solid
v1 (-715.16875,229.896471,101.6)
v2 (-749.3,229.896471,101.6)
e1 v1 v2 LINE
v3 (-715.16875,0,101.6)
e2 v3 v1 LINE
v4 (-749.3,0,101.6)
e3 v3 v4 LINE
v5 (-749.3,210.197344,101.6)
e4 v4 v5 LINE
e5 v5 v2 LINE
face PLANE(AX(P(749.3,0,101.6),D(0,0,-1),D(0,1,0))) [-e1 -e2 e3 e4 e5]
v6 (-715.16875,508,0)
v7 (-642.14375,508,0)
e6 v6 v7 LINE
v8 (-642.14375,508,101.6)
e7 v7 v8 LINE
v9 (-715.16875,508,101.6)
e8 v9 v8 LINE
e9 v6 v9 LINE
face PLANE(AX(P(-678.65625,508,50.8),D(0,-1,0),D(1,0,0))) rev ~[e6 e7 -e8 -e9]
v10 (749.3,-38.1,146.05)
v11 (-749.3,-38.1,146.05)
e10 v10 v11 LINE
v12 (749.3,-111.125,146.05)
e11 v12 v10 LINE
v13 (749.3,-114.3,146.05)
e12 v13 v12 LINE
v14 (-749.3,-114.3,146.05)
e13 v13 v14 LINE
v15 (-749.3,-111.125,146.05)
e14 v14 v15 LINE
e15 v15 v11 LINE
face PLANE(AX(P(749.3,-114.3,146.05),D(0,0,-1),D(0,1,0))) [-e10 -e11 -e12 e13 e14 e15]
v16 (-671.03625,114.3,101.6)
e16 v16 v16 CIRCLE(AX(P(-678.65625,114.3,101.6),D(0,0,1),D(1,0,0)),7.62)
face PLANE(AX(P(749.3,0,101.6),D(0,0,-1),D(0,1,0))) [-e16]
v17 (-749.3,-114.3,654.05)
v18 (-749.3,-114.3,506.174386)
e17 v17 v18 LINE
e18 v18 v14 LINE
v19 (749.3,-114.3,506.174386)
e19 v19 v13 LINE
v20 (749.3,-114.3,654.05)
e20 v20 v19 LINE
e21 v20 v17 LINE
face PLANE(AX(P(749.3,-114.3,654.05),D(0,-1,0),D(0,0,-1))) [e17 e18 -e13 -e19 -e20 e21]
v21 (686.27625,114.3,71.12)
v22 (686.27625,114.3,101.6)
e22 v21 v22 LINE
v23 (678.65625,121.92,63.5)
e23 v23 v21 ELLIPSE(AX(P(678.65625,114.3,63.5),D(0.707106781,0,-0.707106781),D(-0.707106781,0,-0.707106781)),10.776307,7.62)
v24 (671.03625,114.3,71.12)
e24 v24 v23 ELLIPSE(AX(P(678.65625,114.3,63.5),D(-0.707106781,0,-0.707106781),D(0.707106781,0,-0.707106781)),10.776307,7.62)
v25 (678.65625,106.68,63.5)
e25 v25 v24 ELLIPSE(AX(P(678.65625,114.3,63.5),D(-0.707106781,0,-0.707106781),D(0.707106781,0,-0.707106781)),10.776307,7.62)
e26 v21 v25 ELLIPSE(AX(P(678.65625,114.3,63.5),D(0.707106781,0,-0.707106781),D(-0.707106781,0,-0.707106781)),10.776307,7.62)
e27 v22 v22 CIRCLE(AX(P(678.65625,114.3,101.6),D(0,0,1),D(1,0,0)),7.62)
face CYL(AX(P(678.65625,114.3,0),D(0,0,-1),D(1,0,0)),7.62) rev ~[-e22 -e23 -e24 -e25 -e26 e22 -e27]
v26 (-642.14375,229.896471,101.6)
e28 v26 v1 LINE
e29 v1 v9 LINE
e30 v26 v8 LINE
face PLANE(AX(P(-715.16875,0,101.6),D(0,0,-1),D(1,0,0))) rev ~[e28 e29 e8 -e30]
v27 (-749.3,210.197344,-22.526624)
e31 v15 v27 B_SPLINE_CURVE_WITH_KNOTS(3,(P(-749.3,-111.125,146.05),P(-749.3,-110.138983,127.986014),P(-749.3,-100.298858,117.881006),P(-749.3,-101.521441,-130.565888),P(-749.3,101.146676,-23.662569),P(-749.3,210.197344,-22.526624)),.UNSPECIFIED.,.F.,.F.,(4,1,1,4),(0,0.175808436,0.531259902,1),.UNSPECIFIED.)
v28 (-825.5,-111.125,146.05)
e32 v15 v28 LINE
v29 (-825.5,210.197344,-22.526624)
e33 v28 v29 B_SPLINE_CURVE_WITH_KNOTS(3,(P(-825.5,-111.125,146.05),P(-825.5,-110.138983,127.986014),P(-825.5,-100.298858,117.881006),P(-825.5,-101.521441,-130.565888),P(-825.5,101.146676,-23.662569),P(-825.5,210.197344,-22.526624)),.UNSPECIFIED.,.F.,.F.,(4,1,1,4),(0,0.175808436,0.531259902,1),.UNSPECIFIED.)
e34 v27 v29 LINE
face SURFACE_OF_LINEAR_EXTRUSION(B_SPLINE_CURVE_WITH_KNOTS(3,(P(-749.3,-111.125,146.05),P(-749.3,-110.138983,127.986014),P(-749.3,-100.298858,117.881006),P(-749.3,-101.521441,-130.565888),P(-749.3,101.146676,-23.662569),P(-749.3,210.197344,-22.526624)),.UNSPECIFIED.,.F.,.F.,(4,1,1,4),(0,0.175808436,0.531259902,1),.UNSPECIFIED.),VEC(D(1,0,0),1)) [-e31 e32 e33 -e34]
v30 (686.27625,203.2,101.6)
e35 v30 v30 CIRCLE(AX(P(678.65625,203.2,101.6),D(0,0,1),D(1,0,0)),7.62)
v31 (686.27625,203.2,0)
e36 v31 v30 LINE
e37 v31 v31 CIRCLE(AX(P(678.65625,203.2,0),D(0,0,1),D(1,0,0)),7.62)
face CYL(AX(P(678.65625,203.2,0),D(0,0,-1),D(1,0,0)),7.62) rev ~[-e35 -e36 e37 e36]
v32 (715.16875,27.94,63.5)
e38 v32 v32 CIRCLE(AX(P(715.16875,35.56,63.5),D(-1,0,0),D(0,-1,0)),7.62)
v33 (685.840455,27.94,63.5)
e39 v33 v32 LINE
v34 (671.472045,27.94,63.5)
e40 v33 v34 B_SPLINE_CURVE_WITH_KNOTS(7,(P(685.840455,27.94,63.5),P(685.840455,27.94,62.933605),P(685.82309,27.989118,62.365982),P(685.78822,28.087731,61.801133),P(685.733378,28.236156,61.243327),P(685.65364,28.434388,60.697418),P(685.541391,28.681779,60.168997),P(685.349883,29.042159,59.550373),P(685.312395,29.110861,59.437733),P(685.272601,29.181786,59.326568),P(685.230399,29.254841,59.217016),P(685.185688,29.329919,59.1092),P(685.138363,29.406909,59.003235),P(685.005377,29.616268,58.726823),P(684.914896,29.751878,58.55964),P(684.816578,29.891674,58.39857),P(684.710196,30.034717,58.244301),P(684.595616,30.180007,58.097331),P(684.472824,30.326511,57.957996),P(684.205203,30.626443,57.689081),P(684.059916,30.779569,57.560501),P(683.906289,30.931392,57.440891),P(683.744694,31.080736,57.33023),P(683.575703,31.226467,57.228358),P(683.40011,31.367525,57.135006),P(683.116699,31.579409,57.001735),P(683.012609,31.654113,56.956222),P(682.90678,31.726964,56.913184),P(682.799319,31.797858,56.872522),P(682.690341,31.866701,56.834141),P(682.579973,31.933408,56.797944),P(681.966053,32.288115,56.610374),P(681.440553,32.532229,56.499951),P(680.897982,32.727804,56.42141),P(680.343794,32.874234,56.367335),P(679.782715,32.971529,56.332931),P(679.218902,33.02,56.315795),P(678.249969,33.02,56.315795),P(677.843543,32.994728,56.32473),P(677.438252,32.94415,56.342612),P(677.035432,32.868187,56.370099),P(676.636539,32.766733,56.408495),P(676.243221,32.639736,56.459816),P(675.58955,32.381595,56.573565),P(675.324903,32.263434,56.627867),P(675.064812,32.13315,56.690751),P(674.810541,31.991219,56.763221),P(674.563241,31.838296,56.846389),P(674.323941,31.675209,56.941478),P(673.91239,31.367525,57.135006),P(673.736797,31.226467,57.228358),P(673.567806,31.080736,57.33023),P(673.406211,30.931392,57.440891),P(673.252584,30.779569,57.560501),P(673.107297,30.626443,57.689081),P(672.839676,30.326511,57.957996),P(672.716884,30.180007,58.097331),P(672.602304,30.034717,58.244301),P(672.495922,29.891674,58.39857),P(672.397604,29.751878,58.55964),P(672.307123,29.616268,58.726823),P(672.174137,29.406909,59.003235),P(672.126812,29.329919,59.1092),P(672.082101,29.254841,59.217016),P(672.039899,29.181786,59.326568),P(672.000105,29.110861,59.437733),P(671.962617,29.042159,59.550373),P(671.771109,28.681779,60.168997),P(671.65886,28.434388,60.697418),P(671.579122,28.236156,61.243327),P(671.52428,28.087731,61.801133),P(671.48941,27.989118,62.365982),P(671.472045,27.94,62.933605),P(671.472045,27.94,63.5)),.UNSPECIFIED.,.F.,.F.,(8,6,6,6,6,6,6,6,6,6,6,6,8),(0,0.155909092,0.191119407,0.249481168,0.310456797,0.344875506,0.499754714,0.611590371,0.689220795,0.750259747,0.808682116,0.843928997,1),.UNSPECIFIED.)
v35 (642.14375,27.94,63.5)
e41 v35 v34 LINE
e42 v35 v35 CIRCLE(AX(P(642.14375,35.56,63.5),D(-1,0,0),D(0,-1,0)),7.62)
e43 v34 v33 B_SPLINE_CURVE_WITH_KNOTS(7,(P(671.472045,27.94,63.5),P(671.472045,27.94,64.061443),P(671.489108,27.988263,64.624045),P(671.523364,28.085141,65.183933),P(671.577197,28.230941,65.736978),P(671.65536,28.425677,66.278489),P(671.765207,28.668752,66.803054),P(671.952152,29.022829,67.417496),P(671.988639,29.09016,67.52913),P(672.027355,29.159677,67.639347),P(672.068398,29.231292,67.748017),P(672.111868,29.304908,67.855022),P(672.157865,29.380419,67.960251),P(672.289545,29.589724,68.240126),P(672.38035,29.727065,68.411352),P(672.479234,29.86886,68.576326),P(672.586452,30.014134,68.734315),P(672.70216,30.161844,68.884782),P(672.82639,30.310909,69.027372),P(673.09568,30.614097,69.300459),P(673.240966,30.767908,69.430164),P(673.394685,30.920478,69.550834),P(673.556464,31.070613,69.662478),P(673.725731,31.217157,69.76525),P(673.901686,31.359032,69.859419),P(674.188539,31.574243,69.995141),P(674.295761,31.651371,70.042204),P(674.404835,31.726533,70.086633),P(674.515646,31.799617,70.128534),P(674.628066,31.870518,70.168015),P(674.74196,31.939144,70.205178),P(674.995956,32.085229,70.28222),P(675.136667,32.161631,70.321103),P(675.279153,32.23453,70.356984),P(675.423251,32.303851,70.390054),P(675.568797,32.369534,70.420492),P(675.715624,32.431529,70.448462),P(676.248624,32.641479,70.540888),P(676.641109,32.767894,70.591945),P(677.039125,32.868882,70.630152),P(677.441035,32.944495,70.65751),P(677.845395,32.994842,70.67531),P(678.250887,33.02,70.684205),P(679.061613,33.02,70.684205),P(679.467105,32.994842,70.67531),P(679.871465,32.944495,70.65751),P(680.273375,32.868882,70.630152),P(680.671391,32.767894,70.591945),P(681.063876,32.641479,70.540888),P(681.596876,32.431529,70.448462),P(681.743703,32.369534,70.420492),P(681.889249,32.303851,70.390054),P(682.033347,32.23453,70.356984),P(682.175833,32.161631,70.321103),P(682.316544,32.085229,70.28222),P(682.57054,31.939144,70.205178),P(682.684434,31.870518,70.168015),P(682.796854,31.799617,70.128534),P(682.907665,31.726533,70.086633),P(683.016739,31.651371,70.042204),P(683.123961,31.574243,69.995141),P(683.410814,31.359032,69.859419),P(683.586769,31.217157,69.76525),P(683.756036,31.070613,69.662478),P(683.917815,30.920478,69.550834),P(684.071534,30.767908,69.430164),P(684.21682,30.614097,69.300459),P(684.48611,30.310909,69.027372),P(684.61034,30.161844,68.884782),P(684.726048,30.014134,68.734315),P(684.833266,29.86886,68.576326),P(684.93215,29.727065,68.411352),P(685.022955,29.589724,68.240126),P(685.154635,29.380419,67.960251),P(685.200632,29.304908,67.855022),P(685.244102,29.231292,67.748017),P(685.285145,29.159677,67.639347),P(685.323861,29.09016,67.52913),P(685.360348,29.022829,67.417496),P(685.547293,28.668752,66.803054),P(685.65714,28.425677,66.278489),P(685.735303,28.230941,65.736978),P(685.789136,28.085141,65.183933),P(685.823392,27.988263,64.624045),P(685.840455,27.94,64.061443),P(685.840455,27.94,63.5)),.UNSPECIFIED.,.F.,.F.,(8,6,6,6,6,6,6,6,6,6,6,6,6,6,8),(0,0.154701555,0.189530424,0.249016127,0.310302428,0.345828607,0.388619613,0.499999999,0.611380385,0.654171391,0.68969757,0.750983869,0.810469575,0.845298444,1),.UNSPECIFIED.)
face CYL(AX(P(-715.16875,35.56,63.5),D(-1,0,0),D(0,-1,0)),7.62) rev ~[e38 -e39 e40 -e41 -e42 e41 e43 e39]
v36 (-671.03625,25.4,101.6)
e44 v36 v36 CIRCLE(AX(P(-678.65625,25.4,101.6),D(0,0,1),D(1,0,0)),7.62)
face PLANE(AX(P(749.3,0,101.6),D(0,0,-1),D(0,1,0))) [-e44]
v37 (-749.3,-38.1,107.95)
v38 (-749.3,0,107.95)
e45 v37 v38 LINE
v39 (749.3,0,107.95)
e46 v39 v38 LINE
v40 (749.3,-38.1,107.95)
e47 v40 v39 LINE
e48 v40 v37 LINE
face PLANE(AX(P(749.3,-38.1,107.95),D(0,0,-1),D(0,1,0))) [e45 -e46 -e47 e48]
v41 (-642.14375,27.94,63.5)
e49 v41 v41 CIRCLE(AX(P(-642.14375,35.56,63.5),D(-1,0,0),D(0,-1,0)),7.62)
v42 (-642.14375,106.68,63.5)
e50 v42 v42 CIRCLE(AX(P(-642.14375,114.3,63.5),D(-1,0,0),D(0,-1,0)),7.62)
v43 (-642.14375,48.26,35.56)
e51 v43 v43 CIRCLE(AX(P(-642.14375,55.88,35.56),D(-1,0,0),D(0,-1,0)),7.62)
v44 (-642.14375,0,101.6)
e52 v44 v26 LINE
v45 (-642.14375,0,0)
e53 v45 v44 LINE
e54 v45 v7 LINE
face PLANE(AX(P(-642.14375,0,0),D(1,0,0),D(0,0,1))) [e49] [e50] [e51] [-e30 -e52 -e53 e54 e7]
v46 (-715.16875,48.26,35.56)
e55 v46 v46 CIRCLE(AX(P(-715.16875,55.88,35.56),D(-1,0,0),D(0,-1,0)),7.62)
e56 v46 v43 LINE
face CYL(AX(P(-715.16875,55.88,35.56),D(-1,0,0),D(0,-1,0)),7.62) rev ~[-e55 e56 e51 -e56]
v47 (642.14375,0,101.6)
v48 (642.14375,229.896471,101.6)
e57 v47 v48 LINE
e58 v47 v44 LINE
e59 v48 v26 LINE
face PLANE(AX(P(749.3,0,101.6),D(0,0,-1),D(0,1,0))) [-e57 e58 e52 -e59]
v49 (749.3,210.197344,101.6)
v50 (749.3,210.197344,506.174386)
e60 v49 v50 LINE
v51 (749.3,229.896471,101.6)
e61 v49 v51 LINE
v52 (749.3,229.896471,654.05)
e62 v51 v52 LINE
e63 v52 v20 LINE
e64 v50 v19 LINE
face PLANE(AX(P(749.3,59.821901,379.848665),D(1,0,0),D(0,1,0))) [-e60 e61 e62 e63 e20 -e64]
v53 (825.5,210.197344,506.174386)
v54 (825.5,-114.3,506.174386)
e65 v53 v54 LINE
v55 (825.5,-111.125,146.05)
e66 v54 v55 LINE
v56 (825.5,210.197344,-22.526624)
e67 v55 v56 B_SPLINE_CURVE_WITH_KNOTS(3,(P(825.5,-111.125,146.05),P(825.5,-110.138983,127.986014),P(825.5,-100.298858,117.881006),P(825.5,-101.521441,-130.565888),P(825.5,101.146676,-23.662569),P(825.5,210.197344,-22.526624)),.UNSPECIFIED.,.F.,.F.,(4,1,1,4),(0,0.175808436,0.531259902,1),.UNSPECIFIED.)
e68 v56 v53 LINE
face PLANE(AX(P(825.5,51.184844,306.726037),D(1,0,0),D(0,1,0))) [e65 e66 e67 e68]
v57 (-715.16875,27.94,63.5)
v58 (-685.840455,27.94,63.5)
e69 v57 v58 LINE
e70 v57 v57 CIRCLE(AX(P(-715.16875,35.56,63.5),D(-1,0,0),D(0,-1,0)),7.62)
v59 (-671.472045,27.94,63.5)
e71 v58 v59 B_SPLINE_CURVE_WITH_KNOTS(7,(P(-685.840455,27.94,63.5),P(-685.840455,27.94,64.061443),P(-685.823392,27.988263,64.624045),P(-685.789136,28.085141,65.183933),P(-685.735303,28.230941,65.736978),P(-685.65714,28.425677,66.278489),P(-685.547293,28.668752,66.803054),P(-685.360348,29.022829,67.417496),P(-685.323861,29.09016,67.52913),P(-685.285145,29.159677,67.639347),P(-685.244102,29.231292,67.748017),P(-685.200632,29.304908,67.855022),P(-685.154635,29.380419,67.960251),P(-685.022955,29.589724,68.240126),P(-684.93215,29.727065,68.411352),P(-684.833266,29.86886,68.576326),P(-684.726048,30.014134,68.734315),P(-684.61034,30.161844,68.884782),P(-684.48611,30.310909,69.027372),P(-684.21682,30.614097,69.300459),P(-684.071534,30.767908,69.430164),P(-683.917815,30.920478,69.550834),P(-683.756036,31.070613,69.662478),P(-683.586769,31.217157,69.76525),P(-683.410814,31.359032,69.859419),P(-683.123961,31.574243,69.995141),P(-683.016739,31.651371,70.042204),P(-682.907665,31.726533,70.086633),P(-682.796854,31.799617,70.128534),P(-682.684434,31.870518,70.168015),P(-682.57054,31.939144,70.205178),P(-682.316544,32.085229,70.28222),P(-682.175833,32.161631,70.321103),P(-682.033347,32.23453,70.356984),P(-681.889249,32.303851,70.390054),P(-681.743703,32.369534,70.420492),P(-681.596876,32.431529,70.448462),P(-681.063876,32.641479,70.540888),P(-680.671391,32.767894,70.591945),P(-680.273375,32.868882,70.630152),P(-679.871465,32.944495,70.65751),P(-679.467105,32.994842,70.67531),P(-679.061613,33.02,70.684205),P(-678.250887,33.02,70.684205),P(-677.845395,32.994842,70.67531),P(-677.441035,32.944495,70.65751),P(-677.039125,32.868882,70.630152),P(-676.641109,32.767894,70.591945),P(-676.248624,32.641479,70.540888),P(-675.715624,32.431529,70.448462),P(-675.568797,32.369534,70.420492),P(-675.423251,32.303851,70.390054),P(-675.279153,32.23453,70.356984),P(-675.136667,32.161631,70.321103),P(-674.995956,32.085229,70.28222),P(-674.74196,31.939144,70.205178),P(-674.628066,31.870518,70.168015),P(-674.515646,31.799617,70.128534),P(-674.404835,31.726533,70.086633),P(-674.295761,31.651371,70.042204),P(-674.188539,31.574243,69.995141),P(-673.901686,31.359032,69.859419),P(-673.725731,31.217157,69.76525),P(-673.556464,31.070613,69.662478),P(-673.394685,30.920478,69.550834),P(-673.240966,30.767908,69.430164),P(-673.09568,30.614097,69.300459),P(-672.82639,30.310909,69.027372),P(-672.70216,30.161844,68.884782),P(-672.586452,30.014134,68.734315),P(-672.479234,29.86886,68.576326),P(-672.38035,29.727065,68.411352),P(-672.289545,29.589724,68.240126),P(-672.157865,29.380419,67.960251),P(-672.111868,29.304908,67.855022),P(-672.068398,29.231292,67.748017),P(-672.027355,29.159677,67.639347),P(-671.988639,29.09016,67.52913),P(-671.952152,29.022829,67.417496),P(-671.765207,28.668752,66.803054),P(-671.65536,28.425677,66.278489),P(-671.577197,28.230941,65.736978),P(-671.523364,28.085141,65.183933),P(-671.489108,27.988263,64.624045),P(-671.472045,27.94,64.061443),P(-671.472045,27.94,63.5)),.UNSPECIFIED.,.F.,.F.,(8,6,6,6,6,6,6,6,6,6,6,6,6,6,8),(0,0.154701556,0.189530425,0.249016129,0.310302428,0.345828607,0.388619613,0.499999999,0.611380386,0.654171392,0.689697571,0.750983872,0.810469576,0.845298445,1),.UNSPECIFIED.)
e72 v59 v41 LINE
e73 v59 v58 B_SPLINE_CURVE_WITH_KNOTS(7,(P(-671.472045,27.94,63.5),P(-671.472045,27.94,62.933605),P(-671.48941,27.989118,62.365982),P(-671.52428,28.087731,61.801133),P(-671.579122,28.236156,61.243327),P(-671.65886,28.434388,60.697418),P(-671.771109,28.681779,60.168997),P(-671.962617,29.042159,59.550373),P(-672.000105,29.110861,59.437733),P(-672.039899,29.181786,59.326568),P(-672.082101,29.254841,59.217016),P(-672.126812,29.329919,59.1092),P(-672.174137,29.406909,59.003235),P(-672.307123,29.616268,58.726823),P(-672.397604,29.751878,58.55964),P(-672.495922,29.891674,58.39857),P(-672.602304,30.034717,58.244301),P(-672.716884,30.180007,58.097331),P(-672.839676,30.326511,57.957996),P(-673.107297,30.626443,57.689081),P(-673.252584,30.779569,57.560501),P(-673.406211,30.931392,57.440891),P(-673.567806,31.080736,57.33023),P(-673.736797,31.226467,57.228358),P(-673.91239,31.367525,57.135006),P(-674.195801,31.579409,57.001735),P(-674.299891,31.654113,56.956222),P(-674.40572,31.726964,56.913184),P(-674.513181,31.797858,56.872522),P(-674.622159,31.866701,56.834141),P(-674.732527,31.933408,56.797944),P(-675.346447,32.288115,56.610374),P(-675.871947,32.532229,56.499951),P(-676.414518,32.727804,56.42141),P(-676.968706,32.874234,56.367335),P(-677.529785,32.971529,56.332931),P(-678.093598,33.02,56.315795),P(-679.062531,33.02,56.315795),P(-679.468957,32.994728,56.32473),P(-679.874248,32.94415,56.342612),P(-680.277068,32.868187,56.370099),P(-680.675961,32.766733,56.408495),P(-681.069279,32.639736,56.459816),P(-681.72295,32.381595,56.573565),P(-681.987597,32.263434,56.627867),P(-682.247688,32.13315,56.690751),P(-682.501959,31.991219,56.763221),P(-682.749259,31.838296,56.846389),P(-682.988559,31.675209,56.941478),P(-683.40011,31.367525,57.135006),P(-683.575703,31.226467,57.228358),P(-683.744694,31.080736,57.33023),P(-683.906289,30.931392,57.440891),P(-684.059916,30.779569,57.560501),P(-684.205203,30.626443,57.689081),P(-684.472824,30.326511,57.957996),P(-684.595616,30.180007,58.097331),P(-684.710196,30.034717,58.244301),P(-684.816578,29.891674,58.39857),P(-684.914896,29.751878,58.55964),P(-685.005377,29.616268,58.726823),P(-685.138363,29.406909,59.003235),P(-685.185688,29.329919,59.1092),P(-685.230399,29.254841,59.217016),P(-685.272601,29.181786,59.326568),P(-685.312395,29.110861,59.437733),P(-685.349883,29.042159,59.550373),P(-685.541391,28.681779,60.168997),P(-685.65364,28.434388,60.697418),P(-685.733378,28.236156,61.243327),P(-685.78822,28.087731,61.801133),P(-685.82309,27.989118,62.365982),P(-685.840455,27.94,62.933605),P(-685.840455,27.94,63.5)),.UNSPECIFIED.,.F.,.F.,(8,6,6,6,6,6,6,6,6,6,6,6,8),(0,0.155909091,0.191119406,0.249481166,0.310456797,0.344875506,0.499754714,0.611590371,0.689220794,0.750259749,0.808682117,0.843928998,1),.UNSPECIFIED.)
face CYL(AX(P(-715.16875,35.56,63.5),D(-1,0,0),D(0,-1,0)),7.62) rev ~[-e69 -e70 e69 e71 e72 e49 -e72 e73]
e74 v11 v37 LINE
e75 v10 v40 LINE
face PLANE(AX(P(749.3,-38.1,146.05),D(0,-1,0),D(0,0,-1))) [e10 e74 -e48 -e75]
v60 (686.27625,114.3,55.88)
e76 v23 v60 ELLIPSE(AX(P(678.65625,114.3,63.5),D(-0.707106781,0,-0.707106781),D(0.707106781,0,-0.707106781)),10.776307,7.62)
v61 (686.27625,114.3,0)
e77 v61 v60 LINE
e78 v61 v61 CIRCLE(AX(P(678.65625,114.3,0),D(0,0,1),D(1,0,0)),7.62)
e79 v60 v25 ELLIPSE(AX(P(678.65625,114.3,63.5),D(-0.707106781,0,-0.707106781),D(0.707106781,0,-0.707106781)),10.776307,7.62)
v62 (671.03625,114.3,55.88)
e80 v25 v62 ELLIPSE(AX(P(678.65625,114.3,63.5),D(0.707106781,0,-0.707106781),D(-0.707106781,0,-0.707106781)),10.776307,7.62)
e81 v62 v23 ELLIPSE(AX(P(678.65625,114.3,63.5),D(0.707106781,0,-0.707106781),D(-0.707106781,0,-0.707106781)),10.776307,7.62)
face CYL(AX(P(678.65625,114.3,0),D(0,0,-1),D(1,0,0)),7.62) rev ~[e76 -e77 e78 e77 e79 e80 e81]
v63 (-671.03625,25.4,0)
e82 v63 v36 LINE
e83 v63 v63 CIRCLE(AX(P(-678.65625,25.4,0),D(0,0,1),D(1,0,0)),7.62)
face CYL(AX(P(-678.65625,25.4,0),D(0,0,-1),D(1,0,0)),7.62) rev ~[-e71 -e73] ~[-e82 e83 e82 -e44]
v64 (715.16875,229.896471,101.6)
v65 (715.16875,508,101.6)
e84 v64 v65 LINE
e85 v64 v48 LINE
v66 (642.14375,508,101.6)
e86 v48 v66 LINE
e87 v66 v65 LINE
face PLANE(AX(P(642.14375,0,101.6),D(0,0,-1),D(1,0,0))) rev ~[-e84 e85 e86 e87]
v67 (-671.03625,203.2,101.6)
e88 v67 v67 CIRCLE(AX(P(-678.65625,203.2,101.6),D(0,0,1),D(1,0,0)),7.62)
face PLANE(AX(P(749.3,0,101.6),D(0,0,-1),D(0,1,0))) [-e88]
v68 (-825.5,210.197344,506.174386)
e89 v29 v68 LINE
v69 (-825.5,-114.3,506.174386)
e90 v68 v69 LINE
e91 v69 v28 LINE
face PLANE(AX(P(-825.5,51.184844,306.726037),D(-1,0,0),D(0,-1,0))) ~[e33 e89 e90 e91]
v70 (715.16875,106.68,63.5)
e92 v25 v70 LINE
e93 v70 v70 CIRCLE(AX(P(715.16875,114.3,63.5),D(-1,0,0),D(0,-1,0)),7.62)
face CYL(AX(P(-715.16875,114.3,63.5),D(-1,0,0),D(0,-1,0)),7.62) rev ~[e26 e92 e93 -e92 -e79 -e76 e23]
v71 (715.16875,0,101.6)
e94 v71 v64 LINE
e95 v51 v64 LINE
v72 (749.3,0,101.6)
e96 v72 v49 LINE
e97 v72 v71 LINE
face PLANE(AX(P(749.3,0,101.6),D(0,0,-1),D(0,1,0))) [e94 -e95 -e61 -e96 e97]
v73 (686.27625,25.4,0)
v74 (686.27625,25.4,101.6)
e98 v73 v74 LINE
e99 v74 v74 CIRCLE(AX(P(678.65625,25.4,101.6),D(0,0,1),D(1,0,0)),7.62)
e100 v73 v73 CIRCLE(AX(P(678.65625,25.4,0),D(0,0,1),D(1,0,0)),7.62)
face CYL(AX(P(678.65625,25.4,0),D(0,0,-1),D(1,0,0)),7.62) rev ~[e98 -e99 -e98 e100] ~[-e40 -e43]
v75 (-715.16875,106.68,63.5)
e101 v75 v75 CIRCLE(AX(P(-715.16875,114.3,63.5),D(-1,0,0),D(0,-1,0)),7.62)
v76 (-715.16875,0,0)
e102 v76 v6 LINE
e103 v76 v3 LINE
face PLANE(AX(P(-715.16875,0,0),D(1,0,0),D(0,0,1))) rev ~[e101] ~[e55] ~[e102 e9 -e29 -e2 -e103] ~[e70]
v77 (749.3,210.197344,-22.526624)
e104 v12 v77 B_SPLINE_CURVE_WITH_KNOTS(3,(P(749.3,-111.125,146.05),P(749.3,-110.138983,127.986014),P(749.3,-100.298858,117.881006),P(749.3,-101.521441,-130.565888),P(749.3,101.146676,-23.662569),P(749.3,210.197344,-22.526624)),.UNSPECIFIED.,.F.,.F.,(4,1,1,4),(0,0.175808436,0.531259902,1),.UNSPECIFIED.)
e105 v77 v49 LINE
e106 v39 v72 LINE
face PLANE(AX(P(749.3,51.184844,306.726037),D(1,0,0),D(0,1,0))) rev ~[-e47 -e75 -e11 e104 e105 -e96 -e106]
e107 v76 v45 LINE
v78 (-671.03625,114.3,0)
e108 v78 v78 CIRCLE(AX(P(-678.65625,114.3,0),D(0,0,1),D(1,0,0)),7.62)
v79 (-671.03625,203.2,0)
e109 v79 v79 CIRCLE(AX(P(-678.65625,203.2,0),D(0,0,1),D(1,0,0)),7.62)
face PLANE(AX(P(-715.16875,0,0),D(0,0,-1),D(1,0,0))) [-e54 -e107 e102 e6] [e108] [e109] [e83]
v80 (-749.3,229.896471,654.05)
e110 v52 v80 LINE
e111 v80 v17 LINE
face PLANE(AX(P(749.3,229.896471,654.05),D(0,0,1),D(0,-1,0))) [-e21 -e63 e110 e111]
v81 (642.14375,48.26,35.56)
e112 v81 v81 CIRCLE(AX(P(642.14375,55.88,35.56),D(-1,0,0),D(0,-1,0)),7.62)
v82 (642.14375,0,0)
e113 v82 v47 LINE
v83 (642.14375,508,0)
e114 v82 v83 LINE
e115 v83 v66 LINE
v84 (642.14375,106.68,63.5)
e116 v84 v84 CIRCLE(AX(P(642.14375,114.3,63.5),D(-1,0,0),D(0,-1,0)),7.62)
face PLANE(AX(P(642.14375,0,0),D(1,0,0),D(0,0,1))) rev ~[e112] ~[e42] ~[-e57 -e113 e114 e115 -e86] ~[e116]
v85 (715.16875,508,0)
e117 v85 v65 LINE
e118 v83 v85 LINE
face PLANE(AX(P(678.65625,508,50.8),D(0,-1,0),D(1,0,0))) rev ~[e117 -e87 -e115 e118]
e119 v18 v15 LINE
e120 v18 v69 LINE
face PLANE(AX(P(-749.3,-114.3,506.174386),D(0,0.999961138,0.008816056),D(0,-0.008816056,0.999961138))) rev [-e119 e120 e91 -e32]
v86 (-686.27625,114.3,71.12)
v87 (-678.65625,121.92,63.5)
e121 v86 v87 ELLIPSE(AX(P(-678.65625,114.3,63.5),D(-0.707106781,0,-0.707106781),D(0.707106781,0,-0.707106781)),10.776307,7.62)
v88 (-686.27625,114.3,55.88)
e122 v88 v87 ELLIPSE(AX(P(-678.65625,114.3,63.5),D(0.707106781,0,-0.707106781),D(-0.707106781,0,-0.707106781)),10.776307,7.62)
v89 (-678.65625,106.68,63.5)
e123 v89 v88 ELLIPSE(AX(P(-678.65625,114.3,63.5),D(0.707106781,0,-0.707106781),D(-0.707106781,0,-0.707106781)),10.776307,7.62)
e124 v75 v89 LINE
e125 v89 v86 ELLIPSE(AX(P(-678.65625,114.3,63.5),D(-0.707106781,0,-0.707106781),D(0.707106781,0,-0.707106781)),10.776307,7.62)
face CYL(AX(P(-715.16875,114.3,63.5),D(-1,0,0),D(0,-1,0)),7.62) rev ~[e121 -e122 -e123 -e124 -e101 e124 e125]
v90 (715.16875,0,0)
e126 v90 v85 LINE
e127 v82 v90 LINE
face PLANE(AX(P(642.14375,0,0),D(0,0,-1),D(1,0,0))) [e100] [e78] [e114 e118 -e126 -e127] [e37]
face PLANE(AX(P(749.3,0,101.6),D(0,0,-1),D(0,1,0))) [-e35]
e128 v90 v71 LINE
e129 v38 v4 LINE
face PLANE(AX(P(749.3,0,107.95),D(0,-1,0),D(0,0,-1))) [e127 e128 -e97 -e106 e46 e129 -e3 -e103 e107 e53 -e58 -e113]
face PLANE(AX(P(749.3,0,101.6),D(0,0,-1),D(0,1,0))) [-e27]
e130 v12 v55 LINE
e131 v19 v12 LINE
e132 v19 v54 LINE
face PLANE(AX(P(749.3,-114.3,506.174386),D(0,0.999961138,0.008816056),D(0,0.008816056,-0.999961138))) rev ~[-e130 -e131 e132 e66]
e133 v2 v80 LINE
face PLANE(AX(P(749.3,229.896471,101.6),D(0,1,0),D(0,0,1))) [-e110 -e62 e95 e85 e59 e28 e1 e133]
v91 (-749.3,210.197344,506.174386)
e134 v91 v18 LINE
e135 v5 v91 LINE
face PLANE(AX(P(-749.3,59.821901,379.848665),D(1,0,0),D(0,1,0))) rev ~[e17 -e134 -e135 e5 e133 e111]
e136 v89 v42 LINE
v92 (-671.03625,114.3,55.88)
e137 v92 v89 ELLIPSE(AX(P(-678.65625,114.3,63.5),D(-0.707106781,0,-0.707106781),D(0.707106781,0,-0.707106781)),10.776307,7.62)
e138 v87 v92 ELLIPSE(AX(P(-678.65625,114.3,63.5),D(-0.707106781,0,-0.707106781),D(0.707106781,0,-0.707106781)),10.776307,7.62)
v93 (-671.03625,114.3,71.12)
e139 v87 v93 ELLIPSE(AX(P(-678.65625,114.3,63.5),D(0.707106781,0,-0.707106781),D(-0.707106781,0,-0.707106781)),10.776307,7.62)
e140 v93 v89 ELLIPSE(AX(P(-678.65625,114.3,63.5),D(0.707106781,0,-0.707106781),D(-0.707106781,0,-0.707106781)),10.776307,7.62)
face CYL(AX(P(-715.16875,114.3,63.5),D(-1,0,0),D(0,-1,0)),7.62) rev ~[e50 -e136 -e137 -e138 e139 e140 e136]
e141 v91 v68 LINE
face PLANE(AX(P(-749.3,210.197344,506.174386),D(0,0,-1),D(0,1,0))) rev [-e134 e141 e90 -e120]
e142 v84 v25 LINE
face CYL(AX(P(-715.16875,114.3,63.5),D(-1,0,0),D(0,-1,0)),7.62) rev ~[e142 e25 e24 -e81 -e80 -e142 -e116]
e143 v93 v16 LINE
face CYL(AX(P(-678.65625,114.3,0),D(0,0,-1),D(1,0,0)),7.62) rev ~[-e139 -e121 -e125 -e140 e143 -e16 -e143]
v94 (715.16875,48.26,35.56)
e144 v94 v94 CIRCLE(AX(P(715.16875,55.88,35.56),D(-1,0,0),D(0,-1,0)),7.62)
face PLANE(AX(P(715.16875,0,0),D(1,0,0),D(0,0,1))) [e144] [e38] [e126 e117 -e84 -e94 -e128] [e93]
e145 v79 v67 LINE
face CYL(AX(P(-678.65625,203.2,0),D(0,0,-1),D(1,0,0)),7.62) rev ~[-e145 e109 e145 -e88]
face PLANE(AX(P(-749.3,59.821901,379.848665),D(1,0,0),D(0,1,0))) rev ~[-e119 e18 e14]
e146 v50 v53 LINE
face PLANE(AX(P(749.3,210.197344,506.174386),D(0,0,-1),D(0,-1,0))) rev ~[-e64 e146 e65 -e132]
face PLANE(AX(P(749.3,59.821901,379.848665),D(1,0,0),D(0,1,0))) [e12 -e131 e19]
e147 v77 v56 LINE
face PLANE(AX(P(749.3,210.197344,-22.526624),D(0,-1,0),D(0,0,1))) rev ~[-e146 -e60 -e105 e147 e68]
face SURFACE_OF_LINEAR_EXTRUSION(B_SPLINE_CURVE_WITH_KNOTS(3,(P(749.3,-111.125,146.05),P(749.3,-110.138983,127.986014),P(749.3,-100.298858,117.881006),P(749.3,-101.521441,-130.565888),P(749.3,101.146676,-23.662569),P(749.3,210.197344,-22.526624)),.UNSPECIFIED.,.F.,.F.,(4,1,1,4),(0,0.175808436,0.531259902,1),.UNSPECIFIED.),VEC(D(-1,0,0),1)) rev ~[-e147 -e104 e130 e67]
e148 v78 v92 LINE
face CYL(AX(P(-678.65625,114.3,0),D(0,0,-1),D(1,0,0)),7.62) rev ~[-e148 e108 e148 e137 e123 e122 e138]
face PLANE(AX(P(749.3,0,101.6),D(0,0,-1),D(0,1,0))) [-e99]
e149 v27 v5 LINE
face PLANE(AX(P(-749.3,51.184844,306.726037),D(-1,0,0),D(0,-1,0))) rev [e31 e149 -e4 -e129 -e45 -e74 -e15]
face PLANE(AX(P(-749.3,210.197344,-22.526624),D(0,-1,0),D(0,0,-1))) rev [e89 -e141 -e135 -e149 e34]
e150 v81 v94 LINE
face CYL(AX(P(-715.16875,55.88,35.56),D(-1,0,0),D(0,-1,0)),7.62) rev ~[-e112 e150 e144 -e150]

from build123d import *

# Parameters (mm, degrees)
F0_W      = 73.025
F0_H      = 101.6
F1_DEPTH  = 508
F2_R      = 7.62
F3_DEPTH  = 101.601
F4_R      = 7.62
F5_DEPTH  = 1430.3385
F8_DEPTH  = 1498.6
F10_DEPTH = 76.2


with BuildPart() as f1:
    # F0 (on Front) → F1 (new body)
    with BuildSketch(Plane.XZ):
        with Locations((-678.65625, 50.8)):
            Rectangle(F0_W, F0_H)
    extrude(amount=-F1_DEPTH)


with BuildPart() as f1b:
    # F0 (on Front) → F1, piece 2 (new body)
    with BuildSketch(Plane.XZ):
        with Locations((678.65625, 50.8)):
            Rectangle(F0_W, F0_H)
    extrude(amount=-F1_DEPTH)


with BuildPart() as f3_tool:
    # F2 (on face) → F3 (new body, through all)
    with BuildSketch(Plane(origin=(0, 0, 0), x_dir=(1, 0, 0), z_dir=(0, 0, -1))):
        with Locations((-678.65625, -25.4)):
            Circle(F2_R)
        with Locations((-678.65625, -114.3)):
            Circle(F2_R)
        with Locations((-678.65625, -203.2)):
            Circle(F2_R)
        with Locations((678.65625, -25.4)):
            Circle(F2_R)
        with Locations((678.65625, -114.3)):
            Circle(F2_R)
        with Locations((678.65625, -203.2)):
            Circle(F2_R)
    extrude(amount=-F3_DEPTH)


with BuildPart() as f1_1:
    add(f1.part)

    # F3: cut by f3_tool
    add(f3_tool.part, mode=Mode.SUBTRACT)


with BuildPart() as f1b_1:
    add(f1b.part)

    # F3: cut by f3_tool
    add(f3_tool.part, mode=Mode.SUBTRACT)


with BuildPart() as f5_tool:
    # F4 (on face) → F5 (new body, through all)
    with BuildSketch(Plane(origin=(-715.16875, 0, 0), x_dir=(0, -1, 0), z_dir=(-1, 0, 0))):
        with Locations((-114.3, 63.5)):
            Circle(F4_R)
        with Locations((-55.88, 35.56)):
            Circle(F4_R)
        with Locations((-35.56, 63.5)):
            Circle(F4_R)
    extrude(amount=-F5_DEPTH)


with BuildPart() as f1_2:
    add(f1_1.part)

    # F5: cut by f5_tool
    add(f5_tool.part, mode=Mode.SUBTRACT)



with BuildPart() as f1b_2:
    add(f1b_1.part)

    # F5: cut by f5_tool
    add(f5_tool.part, mode=Mode.SUBTRACT)


with BuildPart() as f1_3:
    add(f1_2.part)

    add(f1b_2.part)  # F8 merges F1b
    # F7 (on offset) → F8 (join)
    with BuildSketch(Plane.YZ.offset(749.3)):
        Polygon((-38.1, 107.95), (0, 107.95), (0, 101.6), (229.8964709044, 101.6), (229.8964709044, 654.05), (-114.3, 654.05), (-114.3, 146.05), (-38.1, 146.05), align=None)
    extrude(amount=-F8_DEPTH)

    # F9 (on face) → F10 (join)
    with BuildSketch(Plane.YZ.offset(749.3)):
        Polygon((-114.3, 506.1743855476), (-111.125, 146.05), (-38.1, 146.05), (-38.1, 107.95), (0, 107.95), (0, 101.6), (210.1973444223, 101.6), (210.1973444223, 506.1743855476), align=None)
        with BuildLine():
            Line((-38.1, 146.05), (-111.125, 146.05))
            add(Edge.make_bspline(
                [(-111.125, 146.05), (-110.1389825344, 127.9860138893), (-100.2988577604, 117.881006452), (-101.5214413042, -130.5658881024), (101.1466756463, -23.6625690013), (210.1973444223, -22.5266236812)],
                knots=[0, 0, 0, 0, 0.1758084358, 0.5312599023, 1, 1, 1, 1], degree=3))
            Line((210.1973444223, -22.5266236812), (210.1973444223, 101.6))
            Line((210.1973444223, 101.6), (0, 101.6))
            Line((0, 101.6), (0, 107.95))
            Line((0, 107.95), (-38.1, 107.95))
            Line((-38.1, 107.95), (-38.1, 146.05))
        make_face()
    extrude(amount=F10_DEPTH)

    # F11: F1 across plane


with BuildPart() as f1_4:
    add(f1_3.part)
    add(f1_3.part.mirror(Plane.YZ))


solid = f1_4.part
